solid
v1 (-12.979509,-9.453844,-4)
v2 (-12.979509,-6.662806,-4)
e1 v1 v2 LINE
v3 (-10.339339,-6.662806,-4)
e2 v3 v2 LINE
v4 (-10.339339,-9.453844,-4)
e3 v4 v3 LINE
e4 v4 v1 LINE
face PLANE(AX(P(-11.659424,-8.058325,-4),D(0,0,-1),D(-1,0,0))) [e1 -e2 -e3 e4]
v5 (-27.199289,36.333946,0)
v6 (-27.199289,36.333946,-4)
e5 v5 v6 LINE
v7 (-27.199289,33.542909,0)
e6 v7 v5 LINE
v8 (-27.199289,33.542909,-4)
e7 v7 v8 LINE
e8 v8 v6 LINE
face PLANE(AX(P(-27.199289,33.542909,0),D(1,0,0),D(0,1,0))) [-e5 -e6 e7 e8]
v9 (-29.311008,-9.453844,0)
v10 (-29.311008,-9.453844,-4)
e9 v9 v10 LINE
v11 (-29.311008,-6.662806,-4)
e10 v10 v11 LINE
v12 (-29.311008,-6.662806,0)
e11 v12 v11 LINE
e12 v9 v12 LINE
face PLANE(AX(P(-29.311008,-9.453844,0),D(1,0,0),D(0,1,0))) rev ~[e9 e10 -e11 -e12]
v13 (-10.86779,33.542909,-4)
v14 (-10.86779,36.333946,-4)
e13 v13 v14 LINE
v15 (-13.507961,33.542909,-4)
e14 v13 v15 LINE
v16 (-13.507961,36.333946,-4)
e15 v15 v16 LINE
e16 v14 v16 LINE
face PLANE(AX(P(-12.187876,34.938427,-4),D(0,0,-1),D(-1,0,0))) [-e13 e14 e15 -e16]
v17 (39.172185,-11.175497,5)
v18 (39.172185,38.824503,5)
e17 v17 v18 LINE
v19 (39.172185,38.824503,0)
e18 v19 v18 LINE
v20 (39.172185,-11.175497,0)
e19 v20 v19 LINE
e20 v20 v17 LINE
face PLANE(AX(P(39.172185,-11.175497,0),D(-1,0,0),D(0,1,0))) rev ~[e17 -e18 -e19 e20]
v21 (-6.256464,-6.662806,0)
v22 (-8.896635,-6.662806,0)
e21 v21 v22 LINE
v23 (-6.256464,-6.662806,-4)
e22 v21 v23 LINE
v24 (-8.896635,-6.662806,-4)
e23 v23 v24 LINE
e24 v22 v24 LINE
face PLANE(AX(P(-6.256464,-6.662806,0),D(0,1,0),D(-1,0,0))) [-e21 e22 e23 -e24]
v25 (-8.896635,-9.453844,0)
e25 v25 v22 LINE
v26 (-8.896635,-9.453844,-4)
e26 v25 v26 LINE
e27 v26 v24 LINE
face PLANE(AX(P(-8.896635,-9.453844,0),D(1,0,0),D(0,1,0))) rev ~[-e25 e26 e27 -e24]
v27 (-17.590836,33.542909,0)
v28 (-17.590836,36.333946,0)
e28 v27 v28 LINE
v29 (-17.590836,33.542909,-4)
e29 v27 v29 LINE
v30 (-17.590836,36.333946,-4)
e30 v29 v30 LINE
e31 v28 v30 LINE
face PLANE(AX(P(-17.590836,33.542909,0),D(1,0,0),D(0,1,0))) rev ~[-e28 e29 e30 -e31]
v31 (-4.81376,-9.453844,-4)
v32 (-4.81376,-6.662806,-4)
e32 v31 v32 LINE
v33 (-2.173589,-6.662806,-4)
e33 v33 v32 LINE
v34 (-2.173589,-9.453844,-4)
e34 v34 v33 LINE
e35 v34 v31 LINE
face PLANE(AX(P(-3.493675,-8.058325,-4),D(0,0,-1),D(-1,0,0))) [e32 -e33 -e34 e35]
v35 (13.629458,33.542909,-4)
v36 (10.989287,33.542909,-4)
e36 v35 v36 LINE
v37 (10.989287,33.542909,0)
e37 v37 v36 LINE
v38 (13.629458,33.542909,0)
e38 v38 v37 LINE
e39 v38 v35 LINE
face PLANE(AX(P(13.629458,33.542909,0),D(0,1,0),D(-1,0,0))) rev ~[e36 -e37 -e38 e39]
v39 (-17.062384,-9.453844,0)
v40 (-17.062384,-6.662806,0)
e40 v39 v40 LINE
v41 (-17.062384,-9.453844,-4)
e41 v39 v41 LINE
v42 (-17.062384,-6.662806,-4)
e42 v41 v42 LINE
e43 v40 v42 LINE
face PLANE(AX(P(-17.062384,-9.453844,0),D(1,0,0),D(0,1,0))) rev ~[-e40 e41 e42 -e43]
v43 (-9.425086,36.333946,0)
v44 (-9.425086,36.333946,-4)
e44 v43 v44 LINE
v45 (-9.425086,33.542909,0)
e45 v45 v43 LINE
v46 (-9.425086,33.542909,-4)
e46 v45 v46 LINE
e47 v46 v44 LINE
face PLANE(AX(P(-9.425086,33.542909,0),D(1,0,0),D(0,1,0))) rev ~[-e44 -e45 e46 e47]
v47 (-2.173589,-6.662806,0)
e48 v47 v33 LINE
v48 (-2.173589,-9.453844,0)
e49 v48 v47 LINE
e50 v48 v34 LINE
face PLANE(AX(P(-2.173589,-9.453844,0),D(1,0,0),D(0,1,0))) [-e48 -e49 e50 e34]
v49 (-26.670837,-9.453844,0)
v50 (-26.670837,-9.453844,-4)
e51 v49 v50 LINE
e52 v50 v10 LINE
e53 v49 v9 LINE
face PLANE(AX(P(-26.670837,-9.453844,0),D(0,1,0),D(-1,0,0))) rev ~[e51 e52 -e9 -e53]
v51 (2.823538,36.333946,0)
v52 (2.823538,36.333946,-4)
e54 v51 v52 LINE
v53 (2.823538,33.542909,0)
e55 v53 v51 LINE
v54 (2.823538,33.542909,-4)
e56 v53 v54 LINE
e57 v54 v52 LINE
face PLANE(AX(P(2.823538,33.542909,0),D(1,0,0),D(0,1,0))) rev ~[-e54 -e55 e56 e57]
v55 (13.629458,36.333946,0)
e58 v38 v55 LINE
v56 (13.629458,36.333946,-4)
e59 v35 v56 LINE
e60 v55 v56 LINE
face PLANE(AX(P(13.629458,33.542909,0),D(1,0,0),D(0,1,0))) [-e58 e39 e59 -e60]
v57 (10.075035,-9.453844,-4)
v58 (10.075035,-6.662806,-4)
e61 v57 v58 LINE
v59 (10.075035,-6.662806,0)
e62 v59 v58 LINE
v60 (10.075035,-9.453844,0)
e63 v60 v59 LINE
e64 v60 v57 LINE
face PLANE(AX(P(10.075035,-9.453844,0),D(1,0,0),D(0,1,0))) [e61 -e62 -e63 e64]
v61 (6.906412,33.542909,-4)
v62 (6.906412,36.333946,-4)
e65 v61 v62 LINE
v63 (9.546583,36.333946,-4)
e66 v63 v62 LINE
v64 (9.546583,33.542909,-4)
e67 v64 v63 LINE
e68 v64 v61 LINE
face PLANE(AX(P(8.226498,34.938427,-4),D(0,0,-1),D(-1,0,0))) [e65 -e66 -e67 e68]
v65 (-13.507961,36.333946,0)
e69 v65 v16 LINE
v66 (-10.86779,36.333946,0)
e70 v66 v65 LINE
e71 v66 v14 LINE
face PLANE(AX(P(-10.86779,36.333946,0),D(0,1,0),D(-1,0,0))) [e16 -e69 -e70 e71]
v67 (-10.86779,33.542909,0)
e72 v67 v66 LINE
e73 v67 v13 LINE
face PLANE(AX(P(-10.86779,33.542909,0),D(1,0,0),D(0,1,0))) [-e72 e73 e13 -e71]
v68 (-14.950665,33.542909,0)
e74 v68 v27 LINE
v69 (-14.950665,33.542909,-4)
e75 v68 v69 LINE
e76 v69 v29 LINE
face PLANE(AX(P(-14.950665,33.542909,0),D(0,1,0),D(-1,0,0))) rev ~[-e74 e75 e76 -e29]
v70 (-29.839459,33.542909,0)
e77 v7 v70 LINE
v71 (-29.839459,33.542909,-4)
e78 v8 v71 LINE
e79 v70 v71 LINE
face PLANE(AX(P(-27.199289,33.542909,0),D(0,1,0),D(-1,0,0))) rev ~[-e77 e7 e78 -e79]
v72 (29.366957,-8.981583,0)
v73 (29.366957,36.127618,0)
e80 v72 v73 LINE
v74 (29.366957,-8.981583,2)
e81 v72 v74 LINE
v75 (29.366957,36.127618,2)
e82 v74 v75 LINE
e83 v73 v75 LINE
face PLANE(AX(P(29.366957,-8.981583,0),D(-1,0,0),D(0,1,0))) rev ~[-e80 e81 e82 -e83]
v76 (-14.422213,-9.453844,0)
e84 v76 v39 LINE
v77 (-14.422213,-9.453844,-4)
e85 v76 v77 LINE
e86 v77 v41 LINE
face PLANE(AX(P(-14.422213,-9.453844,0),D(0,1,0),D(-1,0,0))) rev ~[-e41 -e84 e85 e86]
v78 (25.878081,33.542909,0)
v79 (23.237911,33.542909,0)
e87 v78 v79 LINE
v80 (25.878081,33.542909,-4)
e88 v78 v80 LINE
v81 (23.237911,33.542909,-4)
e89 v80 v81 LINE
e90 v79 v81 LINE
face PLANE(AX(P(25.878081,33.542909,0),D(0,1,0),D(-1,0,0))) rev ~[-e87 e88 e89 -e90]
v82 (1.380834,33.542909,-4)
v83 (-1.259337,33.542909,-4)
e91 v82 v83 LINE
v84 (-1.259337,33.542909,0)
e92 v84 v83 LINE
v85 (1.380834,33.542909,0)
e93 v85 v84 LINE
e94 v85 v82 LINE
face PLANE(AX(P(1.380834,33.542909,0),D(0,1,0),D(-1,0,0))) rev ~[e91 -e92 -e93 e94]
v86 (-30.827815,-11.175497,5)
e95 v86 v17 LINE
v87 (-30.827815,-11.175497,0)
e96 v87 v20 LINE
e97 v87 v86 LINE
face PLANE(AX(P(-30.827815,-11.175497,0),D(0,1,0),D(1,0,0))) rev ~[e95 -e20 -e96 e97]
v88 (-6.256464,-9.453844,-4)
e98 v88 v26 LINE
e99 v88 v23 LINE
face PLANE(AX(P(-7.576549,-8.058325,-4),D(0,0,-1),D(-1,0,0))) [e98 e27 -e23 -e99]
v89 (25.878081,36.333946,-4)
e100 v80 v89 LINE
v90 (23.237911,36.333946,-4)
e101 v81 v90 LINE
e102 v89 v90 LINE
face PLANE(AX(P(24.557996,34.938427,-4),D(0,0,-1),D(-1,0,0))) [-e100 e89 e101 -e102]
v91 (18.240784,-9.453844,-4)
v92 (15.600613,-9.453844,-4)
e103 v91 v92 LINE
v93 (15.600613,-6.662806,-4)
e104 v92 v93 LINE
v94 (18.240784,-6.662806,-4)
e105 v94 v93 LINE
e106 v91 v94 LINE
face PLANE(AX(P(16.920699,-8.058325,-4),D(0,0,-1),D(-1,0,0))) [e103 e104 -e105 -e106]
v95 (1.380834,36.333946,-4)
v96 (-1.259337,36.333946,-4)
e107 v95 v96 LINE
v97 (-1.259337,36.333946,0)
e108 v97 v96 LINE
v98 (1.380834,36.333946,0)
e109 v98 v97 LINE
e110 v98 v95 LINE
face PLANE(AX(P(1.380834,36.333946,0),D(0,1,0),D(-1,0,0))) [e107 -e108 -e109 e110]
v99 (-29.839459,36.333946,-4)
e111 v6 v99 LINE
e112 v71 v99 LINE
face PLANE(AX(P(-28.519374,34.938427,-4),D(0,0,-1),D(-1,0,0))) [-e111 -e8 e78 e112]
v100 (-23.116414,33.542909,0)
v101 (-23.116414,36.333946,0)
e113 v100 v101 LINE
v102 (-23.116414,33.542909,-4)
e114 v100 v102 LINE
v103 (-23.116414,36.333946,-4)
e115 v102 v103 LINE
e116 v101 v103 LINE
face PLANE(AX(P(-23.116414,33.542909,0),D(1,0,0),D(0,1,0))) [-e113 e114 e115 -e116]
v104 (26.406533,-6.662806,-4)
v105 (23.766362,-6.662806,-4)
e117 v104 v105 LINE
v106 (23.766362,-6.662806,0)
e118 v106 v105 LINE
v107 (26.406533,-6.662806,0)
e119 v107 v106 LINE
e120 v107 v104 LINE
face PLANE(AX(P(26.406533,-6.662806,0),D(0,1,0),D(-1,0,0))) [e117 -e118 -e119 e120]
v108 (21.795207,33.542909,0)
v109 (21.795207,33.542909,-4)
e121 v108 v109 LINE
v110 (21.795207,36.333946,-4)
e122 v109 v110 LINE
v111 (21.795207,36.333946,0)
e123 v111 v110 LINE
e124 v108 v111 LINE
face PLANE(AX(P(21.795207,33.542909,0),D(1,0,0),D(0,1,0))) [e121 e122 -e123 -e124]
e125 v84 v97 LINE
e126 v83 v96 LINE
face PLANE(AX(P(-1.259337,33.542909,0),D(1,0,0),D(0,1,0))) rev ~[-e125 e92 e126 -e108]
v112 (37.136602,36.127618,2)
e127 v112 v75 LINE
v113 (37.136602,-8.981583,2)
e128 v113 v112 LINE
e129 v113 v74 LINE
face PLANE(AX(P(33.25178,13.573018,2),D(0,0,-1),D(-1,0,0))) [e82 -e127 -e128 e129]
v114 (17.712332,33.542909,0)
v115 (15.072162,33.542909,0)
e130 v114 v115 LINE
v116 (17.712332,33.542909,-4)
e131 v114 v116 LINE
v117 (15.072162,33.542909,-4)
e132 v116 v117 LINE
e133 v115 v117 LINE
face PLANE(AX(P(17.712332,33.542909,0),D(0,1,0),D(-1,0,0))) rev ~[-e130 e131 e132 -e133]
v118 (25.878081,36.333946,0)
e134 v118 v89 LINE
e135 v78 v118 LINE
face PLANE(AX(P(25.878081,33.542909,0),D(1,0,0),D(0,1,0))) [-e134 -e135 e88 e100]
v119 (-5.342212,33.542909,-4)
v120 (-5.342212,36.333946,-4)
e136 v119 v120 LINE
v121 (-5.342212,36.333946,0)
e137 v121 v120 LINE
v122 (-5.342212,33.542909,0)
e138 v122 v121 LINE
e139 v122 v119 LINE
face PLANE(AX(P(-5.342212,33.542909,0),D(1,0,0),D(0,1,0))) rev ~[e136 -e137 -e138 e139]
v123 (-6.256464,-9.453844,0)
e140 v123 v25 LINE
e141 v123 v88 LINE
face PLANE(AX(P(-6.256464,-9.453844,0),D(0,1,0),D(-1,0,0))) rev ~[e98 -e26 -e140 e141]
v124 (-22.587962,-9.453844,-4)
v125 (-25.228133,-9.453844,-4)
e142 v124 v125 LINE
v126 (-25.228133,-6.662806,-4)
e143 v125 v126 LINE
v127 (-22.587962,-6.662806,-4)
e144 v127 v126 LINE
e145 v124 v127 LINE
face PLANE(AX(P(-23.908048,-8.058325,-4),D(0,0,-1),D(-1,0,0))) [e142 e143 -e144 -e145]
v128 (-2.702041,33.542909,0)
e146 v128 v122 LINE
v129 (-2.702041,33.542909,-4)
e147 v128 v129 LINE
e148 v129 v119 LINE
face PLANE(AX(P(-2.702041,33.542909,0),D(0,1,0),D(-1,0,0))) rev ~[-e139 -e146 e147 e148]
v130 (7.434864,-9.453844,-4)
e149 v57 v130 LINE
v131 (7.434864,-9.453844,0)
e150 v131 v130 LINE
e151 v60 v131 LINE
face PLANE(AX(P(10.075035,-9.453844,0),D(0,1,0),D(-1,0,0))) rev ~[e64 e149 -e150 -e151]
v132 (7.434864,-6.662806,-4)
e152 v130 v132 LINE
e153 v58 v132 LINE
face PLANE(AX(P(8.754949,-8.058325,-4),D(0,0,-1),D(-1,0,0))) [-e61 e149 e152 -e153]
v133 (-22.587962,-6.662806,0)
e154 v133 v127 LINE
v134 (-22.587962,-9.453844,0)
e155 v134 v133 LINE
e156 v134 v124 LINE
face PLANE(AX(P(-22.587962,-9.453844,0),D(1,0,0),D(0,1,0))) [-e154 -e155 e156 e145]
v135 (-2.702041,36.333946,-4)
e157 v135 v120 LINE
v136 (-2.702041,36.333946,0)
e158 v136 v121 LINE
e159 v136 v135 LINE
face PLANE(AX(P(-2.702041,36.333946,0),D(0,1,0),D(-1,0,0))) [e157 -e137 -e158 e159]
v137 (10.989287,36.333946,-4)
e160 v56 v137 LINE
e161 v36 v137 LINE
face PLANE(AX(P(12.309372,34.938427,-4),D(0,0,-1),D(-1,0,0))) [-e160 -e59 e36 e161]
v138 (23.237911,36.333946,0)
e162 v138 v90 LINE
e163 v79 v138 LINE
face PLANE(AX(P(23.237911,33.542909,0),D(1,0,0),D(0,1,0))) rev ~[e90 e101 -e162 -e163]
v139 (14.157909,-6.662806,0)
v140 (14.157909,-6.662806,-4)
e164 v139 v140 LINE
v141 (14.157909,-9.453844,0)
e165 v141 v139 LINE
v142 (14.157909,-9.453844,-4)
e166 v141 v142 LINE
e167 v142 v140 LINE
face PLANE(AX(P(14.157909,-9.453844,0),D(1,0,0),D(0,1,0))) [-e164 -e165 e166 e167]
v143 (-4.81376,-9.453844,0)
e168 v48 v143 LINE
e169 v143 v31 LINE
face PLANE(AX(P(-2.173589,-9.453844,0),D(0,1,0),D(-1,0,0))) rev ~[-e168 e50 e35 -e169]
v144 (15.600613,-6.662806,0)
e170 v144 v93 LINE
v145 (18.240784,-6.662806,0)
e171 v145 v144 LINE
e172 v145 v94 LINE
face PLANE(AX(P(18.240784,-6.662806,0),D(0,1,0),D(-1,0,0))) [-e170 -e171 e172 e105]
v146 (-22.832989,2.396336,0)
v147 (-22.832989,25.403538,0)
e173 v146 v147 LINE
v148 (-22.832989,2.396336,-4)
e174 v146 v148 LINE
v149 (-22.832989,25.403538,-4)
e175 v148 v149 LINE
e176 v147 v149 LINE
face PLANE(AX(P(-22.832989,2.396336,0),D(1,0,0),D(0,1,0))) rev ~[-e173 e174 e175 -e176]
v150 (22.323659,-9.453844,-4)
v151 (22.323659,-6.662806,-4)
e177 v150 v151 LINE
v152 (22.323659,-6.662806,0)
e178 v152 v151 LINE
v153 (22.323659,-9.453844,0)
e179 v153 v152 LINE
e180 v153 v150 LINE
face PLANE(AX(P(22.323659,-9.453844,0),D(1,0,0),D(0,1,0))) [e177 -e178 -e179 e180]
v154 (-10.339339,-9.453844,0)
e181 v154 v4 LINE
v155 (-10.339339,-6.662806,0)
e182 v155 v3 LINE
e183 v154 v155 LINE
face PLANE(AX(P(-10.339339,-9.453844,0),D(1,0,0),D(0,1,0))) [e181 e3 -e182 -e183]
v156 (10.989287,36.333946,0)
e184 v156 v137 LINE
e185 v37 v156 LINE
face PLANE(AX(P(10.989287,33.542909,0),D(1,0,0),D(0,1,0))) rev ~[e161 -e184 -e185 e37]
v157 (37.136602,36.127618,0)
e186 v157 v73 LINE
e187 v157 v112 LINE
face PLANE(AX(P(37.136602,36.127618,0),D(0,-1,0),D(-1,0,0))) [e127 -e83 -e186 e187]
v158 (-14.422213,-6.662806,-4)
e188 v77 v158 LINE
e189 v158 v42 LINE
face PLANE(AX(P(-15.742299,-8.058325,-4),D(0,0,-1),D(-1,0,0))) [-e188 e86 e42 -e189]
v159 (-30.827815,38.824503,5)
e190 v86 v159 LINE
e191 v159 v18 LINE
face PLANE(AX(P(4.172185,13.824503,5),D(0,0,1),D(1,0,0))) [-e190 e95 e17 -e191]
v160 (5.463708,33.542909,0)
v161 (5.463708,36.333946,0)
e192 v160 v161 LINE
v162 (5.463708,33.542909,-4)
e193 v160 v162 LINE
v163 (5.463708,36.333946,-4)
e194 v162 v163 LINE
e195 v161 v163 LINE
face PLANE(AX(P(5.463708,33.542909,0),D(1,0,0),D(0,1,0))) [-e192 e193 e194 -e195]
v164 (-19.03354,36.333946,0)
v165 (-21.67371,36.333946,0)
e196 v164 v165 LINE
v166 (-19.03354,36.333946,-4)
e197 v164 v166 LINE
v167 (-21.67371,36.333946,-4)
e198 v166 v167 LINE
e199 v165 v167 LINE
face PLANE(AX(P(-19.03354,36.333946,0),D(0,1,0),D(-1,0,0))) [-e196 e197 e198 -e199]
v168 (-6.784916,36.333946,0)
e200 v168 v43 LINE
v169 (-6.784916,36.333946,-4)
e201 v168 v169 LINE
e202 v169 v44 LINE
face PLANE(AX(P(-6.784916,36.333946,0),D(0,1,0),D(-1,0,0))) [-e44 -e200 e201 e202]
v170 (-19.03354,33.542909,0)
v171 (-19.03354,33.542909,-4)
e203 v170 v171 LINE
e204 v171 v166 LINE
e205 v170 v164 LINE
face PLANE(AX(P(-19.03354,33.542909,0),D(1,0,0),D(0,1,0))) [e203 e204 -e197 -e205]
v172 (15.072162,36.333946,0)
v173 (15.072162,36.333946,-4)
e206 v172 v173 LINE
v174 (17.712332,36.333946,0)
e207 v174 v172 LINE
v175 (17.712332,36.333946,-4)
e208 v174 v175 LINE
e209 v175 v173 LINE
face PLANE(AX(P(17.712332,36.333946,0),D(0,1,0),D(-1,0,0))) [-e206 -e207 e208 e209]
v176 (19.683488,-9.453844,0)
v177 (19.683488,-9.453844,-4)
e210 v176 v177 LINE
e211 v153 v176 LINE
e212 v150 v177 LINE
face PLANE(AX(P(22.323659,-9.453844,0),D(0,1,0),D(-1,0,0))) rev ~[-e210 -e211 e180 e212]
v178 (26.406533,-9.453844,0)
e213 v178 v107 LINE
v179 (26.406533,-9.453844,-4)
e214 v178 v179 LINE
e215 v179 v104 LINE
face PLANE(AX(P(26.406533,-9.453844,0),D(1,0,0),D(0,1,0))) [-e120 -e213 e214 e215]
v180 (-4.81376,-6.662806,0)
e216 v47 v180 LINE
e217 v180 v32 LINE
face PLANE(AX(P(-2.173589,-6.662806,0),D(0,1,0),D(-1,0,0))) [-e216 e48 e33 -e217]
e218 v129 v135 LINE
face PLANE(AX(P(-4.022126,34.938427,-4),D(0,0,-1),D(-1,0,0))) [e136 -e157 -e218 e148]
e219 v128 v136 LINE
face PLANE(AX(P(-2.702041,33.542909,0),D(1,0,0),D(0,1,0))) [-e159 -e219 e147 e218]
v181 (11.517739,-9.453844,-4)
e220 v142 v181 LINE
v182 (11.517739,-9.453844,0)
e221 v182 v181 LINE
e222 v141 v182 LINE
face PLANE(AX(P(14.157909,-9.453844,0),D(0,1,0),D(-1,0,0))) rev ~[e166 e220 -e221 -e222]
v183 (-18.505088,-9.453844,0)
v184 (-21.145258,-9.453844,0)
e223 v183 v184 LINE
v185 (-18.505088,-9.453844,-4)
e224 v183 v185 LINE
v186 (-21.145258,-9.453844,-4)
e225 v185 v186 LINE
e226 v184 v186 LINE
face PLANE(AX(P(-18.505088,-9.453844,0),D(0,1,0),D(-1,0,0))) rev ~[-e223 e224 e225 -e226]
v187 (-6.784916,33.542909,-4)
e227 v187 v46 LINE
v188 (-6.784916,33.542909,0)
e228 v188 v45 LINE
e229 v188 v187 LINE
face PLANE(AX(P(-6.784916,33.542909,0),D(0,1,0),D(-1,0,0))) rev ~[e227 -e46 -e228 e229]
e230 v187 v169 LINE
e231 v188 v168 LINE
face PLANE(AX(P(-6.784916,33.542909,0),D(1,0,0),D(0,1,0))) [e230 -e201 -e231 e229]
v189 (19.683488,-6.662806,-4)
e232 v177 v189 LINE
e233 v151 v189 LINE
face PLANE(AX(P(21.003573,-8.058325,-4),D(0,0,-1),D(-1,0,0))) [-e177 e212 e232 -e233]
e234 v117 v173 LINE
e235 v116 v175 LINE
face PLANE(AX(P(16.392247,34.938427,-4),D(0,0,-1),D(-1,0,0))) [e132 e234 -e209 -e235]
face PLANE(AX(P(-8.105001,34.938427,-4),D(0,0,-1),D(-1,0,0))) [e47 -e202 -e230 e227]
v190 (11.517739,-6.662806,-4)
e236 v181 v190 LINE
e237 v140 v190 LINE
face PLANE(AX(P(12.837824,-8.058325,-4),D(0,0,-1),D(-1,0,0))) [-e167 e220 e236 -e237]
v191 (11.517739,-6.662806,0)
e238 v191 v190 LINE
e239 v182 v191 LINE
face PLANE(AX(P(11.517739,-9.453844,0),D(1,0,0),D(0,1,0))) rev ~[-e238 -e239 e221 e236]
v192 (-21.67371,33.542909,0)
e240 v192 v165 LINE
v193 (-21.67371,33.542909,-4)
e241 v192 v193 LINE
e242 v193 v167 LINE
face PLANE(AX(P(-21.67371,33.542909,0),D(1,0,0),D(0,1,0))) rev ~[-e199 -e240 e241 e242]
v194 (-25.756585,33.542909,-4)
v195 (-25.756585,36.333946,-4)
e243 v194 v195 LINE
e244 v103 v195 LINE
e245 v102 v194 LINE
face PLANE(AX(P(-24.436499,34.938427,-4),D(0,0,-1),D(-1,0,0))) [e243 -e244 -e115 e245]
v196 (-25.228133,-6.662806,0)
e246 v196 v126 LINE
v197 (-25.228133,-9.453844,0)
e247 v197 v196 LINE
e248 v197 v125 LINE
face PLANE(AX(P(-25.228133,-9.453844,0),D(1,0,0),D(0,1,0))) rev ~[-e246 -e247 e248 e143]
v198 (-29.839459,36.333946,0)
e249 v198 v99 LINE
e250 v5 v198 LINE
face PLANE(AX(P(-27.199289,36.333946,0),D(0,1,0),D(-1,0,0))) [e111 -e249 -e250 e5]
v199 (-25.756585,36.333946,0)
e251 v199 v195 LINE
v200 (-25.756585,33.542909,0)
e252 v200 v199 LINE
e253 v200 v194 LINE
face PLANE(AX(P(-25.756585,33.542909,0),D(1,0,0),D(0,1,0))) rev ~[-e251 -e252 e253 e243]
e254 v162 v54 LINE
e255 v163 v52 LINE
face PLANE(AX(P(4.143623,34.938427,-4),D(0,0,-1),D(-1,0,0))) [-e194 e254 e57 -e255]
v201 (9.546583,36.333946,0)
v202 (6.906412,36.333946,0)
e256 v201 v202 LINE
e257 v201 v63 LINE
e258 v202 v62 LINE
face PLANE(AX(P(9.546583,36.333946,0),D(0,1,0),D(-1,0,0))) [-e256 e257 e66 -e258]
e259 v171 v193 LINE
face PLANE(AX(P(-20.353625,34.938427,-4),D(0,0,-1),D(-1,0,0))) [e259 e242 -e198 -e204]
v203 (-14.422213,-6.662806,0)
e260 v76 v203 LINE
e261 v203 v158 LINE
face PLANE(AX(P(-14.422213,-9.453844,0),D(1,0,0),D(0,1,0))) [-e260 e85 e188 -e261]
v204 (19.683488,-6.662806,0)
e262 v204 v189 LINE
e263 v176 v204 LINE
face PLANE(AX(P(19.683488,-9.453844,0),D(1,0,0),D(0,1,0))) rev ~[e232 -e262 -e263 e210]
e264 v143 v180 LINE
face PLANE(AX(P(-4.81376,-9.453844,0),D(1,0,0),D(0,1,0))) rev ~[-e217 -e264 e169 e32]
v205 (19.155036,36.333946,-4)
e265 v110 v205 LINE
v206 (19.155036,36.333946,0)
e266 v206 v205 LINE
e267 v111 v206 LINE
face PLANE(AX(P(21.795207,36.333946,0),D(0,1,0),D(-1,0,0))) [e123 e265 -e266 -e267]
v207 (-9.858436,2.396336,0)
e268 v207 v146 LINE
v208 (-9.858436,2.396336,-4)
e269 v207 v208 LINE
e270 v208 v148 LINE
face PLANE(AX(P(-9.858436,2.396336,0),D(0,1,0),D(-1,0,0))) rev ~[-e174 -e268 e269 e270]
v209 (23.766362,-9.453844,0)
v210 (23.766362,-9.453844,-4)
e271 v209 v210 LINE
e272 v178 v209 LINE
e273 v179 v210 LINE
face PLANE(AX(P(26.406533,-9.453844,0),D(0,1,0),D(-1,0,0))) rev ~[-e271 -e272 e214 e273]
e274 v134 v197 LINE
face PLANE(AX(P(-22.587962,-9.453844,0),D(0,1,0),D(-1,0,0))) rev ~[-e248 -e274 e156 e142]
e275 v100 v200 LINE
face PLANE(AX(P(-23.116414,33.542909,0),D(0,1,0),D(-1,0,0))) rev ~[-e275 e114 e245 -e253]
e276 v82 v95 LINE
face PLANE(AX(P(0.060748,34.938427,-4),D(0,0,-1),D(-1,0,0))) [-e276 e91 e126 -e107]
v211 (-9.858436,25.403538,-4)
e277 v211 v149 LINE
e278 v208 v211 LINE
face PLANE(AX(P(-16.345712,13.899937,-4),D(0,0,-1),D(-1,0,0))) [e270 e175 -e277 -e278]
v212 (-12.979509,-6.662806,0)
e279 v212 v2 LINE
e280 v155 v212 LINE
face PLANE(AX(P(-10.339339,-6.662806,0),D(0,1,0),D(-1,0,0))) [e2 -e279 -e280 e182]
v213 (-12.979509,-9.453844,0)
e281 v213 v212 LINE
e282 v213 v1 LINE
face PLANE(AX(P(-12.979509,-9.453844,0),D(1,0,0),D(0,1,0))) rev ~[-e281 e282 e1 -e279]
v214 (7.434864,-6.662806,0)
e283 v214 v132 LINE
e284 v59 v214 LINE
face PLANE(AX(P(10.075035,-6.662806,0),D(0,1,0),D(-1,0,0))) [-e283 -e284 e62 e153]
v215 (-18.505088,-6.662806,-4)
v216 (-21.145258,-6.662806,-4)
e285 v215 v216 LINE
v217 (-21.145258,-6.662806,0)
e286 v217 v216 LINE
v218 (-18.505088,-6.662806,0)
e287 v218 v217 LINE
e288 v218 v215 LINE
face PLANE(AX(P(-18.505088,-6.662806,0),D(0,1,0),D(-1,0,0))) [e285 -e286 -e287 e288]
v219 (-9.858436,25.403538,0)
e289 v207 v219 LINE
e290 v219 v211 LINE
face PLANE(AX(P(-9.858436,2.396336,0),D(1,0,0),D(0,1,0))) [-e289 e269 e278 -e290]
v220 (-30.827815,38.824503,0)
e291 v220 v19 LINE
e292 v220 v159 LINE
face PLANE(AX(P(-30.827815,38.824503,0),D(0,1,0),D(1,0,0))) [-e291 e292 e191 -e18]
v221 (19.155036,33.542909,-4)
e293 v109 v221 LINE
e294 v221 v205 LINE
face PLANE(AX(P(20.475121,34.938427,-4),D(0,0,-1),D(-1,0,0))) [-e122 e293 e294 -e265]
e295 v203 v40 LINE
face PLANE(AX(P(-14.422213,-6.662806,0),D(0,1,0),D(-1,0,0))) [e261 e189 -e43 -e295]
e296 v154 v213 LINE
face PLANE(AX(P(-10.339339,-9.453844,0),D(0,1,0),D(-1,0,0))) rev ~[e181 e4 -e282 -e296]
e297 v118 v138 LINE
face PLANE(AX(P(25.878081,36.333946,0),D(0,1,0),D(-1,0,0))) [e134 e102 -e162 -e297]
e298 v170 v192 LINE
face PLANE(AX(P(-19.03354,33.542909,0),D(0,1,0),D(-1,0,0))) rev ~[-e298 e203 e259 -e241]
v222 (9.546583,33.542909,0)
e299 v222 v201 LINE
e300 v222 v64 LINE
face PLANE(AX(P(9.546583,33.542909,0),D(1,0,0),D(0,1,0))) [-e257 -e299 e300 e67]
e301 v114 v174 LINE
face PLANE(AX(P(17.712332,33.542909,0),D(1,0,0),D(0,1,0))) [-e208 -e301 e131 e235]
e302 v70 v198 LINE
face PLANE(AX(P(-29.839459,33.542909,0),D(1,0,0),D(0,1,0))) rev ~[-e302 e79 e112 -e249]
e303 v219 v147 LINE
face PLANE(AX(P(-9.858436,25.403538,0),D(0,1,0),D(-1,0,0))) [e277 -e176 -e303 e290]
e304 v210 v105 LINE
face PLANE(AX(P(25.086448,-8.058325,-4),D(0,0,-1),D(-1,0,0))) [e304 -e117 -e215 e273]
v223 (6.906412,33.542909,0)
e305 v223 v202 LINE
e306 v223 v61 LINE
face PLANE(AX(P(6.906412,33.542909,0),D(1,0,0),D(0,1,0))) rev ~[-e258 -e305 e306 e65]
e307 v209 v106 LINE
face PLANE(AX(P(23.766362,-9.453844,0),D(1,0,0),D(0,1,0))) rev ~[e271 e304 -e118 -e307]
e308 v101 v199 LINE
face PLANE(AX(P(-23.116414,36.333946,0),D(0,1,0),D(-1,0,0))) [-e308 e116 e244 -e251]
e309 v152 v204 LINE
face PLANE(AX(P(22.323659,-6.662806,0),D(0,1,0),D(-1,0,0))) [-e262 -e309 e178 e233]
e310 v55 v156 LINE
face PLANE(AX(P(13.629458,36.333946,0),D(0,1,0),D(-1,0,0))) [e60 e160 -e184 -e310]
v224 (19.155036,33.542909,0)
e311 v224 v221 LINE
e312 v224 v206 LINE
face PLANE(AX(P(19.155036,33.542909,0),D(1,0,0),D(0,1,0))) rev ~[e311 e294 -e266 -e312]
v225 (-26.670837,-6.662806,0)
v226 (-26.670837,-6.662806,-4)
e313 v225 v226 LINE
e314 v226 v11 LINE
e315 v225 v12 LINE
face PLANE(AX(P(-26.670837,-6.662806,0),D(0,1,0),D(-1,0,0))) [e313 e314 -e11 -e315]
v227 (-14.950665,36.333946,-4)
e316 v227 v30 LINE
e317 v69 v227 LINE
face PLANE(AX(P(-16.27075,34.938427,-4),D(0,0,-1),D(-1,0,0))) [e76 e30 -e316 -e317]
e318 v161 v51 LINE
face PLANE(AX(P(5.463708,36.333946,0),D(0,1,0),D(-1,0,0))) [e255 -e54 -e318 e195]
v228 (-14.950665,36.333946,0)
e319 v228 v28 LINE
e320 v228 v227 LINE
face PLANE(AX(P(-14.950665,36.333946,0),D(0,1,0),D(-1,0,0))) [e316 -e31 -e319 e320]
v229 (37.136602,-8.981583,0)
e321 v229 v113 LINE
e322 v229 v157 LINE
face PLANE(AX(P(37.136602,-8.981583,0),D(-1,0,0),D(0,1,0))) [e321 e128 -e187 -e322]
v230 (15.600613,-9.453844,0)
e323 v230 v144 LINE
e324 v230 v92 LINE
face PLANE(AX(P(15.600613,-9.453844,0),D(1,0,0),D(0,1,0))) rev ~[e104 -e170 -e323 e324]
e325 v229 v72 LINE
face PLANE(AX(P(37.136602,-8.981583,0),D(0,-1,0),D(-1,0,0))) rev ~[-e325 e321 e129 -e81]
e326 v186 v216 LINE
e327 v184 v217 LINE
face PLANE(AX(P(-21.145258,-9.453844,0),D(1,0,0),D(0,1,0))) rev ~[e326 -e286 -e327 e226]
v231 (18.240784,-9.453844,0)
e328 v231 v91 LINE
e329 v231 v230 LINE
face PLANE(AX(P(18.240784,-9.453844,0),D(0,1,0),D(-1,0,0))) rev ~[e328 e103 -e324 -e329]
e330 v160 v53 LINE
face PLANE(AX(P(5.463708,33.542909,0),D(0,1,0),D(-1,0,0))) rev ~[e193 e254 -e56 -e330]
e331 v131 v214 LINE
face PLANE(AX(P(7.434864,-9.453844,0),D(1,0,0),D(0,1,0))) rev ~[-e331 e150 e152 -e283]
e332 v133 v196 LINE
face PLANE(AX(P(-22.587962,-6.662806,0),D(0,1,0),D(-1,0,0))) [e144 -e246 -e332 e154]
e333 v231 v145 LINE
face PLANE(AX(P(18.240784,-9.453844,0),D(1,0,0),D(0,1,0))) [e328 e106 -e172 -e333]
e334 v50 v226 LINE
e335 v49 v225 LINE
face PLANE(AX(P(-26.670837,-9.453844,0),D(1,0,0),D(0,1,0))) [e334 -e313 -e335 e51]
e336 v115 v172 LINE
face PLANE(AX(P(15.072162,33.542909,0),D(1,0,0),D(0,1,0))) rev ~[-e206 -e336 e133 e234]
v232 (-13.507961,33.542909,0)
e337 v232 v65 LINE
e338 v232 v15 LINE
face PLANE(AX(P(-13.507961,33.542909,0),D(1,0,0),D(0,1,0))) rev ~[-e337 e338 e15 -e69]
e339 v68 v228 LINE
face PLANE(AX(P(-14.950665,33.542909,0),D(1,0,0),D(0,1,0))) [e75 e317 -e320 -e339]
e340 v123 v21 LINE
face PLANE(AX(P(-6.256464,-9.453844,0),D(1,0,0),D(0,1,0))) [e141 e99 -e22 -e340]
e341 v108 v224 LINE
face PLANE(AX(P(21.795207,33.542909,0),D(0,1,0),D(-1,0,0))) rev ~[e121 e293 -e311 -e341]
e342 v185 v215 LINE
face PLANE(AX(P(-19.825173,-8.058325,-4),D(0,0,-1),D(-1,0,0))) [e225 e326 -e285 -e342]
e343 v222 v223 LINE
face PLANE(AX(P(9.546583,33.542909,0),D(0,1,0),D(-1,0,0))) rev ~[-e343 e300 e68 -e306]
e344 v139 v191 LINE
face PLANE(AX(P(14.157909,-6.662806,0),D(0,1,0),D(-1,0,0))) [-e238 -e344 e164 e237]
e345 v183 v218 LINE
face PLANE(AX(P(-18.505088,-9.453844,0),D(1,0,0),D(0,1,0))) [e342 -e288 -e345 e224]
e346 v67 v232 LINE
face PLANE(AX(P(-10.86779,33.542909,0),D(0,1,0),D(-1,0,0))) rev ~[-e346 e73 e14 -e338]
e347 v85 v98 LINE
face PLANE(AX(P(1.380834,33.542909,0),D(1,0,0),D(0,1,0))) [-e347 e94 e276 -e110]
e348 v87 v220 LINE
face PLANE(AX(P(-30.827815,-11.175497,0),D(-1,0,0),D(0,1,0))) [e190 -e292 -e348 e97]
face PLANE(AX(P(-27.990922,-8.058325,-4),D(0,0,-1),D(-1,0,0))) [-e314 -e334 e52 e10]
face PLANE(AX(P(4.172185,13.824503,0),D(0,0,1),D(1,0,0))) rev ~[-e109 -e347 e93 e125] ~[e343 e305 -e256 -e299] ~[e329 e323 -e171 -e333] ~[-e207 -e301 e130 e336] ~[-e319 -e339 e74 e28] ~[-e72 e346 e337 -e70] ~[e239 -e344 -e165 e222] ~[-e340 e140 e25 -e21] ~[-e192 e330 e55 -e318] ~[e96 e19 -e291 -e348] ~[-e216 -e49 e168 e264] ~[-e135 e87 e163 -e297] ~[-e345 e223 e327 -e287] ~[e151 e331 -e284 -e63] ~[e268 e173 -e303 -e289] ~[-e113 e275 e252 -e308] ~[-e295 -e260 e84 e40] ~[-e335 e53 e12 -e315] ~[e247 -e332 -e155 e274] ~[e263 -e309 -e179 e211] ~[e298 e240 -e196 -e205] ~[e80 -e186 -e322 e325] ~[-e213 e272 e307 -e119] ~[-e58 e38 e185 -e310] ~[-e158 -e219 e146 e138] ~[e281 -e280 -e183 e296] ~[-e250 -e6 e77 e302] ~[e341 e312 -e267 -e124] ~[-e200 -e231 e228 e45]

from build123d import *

# Parameters (mm, degrees)
SKETCH1_W           = 70
SKETCH1_H           = 50
BOSS_EXTRUDE1_DEPTH = 5
SKETCH2_W           = 2.640170668
SKETCH2_H           = 2.791037564
SKETCH2_W_2         = 2.640170669
BOSS_EXTRUDE2_DEPTH = 4
SKETCH3_W           = 7.769645109
SKETCH3_H           = 45.109201702
CUT_EXTRUDE2_DEPTH  = 2
SKETCH4_W           = 12.974552998
SKETCH4_H           = 23.007201537
BOSS_EXTRUDE3_DEPTH = 4


with BuildPart() as part:
    # Sketch1 → Boss-Extrude1 (new body)
    with BuildSketch(Plane.XY):
        with Locations((4.17218543, 13.824503311)):
            Rectangle(SKETCH1_W, SKETCH1_H)
    extrude(amount=BOSS_EXTRUDE1_DEPTH)

    # Sketch2 → Boss-Extrude2 (add)
    with BuildSketch(Plane(origin=(0, 0, 0), x_dir=(-1, 0, 0), z_dir=(0, 0, -1))):
        with Locations((-24.557996106, 34.938427472)):
            Rectangle(SKETCH2_W, SKETCH2_H)
        with Locations((-20.475121474, 34.938427472)):
            Rectangle(SKETCH2_W, SKETCH2_H)
        with Locations((-16.392246842, 34.938427472)):
            Rectangle(SKETCH2_W_2, SKETCH2_H)
        with Locations((-12.309372209, 34.938427472)):
            Rectangle(SKETCH2_W, SKETCH2_H)
        with Locations((-8.226497577, 34.938427472)):
            Rectangle(SKETCH2_W, SKETCH2_H)
        with Locations((-4.143622945, 34.938427472)):
            Rectangle(SKETCH2_W_2, SKETCH2_H)
        with Locations((-0.060748312, 34.938427472)):
            Rectangle(SKETCH2_W, SKETCH2_H)
        with Locations((4.02212632, 34.938427472)):
            Rectangle(SKETCH2_W, SKETCH2_H)
        with Locations((8.105000952, 34.938427472)):
            Rectangle(SKETCH2_W, SKETCH2_H)
        with Locations((12.187875585, 34.938427472)):
            Rectangle(SKETCH2_W, SKETCH2_H)
        with Locations((16.270750217, 34.938427472)):
            Rectangle(SKETCH2_W, SKETCH2_H)
        with Locations((20.353624849, 34.938427472)):
            Rectangle(SKETCH2_W, SKETCH2_H)
        with Locations((24.436499482, 34.938427472)):
            Rectangle(SKETCH2_W_2, SKETCH2_H)
        with Locations((28.519374114, 34.938427472)):
            Rectangle(SKETCH2_W, SKETCH2_H)
        with Locations((-25.086447815, -8.058325182)):
            Rectangle(SKETCH2_W, SKETCH2_H)
        with Locations((-21.003573182, -8.058325182)):
            Rectangle(SKETCH2_W, SKETCH2_H)
        with Locations((-16.92069855, -8.058325182)):
            Rectangle(SKETCH2_W, SKETCH2_H)
        with Locations((-12.837823918, -8.058325182)):
            Rectangle(SKETCH2_W, SKETCH2_H)
        with Locations((-8.754949286, -8.058325182)):
            Rectangle(SKETCH2_W_2, SKETCH2_H)
        with Locations((3.493674612, -8.058325182)):
            Rectangle(SKETCH2_W_2, SKETCH2_H)
        with Locations((7.576549244, -8.058325182)):
            Rectangle(SKETCH2_W, SKETCH2_H)
        with Locations((11.659423876, -8.058325182)):
            Rectangle(SKETCH2_W, SKETCH2_H)
        with Locations((15.742298508, -8.058325182)):
            Rectangle(SKETCH2_W, SKETCH2_H)
        with Locations((19.825173141, -8.058325182)):
            Rectangle(SKETCH2_W, SKETCH2_H)
        with Locations((23.908047773, -8.058325182)):
            Rectangle(SKETCH2_W, SKETCH2_H)
        with Locations((27.990922405, -8.058325182)):
            Rectangle(SKETCH2_W, SKETCH2_H)
    extrude(amount=BOSS_EXTRUDE2_DEPTH)

    # Sketch3 → Cut-Extrude2 (cut)
    with BuildSketch(Plane(origin=(0, 0, 0), x_dir=(-1, 0, 0), z_dir=(0, 0, -1))):
        with Locations((-33.251779505, 13.57301761)):
            Rectangle(SKETCH3_W, SKETCH3_H)
    extrude(amount=-CUT_EXTRUDE2_DEPTH, mode=Mode.SUBTRACT)

    # Sketch4 → Boss-Extrude3 (add)
    with BuildSketch(Plane(origin=(0, 0, 0), x_dir=(-1, 0, 0), z_dir=(0, 0, -1))):
        with Locations((16.345712334, 13.899936759)):
            Rectangle(SKETCH4_W, SKETCH4_H)
    extrude(amount=BOSS_EXTRUDE3_DEPTH)


solid = part.part
